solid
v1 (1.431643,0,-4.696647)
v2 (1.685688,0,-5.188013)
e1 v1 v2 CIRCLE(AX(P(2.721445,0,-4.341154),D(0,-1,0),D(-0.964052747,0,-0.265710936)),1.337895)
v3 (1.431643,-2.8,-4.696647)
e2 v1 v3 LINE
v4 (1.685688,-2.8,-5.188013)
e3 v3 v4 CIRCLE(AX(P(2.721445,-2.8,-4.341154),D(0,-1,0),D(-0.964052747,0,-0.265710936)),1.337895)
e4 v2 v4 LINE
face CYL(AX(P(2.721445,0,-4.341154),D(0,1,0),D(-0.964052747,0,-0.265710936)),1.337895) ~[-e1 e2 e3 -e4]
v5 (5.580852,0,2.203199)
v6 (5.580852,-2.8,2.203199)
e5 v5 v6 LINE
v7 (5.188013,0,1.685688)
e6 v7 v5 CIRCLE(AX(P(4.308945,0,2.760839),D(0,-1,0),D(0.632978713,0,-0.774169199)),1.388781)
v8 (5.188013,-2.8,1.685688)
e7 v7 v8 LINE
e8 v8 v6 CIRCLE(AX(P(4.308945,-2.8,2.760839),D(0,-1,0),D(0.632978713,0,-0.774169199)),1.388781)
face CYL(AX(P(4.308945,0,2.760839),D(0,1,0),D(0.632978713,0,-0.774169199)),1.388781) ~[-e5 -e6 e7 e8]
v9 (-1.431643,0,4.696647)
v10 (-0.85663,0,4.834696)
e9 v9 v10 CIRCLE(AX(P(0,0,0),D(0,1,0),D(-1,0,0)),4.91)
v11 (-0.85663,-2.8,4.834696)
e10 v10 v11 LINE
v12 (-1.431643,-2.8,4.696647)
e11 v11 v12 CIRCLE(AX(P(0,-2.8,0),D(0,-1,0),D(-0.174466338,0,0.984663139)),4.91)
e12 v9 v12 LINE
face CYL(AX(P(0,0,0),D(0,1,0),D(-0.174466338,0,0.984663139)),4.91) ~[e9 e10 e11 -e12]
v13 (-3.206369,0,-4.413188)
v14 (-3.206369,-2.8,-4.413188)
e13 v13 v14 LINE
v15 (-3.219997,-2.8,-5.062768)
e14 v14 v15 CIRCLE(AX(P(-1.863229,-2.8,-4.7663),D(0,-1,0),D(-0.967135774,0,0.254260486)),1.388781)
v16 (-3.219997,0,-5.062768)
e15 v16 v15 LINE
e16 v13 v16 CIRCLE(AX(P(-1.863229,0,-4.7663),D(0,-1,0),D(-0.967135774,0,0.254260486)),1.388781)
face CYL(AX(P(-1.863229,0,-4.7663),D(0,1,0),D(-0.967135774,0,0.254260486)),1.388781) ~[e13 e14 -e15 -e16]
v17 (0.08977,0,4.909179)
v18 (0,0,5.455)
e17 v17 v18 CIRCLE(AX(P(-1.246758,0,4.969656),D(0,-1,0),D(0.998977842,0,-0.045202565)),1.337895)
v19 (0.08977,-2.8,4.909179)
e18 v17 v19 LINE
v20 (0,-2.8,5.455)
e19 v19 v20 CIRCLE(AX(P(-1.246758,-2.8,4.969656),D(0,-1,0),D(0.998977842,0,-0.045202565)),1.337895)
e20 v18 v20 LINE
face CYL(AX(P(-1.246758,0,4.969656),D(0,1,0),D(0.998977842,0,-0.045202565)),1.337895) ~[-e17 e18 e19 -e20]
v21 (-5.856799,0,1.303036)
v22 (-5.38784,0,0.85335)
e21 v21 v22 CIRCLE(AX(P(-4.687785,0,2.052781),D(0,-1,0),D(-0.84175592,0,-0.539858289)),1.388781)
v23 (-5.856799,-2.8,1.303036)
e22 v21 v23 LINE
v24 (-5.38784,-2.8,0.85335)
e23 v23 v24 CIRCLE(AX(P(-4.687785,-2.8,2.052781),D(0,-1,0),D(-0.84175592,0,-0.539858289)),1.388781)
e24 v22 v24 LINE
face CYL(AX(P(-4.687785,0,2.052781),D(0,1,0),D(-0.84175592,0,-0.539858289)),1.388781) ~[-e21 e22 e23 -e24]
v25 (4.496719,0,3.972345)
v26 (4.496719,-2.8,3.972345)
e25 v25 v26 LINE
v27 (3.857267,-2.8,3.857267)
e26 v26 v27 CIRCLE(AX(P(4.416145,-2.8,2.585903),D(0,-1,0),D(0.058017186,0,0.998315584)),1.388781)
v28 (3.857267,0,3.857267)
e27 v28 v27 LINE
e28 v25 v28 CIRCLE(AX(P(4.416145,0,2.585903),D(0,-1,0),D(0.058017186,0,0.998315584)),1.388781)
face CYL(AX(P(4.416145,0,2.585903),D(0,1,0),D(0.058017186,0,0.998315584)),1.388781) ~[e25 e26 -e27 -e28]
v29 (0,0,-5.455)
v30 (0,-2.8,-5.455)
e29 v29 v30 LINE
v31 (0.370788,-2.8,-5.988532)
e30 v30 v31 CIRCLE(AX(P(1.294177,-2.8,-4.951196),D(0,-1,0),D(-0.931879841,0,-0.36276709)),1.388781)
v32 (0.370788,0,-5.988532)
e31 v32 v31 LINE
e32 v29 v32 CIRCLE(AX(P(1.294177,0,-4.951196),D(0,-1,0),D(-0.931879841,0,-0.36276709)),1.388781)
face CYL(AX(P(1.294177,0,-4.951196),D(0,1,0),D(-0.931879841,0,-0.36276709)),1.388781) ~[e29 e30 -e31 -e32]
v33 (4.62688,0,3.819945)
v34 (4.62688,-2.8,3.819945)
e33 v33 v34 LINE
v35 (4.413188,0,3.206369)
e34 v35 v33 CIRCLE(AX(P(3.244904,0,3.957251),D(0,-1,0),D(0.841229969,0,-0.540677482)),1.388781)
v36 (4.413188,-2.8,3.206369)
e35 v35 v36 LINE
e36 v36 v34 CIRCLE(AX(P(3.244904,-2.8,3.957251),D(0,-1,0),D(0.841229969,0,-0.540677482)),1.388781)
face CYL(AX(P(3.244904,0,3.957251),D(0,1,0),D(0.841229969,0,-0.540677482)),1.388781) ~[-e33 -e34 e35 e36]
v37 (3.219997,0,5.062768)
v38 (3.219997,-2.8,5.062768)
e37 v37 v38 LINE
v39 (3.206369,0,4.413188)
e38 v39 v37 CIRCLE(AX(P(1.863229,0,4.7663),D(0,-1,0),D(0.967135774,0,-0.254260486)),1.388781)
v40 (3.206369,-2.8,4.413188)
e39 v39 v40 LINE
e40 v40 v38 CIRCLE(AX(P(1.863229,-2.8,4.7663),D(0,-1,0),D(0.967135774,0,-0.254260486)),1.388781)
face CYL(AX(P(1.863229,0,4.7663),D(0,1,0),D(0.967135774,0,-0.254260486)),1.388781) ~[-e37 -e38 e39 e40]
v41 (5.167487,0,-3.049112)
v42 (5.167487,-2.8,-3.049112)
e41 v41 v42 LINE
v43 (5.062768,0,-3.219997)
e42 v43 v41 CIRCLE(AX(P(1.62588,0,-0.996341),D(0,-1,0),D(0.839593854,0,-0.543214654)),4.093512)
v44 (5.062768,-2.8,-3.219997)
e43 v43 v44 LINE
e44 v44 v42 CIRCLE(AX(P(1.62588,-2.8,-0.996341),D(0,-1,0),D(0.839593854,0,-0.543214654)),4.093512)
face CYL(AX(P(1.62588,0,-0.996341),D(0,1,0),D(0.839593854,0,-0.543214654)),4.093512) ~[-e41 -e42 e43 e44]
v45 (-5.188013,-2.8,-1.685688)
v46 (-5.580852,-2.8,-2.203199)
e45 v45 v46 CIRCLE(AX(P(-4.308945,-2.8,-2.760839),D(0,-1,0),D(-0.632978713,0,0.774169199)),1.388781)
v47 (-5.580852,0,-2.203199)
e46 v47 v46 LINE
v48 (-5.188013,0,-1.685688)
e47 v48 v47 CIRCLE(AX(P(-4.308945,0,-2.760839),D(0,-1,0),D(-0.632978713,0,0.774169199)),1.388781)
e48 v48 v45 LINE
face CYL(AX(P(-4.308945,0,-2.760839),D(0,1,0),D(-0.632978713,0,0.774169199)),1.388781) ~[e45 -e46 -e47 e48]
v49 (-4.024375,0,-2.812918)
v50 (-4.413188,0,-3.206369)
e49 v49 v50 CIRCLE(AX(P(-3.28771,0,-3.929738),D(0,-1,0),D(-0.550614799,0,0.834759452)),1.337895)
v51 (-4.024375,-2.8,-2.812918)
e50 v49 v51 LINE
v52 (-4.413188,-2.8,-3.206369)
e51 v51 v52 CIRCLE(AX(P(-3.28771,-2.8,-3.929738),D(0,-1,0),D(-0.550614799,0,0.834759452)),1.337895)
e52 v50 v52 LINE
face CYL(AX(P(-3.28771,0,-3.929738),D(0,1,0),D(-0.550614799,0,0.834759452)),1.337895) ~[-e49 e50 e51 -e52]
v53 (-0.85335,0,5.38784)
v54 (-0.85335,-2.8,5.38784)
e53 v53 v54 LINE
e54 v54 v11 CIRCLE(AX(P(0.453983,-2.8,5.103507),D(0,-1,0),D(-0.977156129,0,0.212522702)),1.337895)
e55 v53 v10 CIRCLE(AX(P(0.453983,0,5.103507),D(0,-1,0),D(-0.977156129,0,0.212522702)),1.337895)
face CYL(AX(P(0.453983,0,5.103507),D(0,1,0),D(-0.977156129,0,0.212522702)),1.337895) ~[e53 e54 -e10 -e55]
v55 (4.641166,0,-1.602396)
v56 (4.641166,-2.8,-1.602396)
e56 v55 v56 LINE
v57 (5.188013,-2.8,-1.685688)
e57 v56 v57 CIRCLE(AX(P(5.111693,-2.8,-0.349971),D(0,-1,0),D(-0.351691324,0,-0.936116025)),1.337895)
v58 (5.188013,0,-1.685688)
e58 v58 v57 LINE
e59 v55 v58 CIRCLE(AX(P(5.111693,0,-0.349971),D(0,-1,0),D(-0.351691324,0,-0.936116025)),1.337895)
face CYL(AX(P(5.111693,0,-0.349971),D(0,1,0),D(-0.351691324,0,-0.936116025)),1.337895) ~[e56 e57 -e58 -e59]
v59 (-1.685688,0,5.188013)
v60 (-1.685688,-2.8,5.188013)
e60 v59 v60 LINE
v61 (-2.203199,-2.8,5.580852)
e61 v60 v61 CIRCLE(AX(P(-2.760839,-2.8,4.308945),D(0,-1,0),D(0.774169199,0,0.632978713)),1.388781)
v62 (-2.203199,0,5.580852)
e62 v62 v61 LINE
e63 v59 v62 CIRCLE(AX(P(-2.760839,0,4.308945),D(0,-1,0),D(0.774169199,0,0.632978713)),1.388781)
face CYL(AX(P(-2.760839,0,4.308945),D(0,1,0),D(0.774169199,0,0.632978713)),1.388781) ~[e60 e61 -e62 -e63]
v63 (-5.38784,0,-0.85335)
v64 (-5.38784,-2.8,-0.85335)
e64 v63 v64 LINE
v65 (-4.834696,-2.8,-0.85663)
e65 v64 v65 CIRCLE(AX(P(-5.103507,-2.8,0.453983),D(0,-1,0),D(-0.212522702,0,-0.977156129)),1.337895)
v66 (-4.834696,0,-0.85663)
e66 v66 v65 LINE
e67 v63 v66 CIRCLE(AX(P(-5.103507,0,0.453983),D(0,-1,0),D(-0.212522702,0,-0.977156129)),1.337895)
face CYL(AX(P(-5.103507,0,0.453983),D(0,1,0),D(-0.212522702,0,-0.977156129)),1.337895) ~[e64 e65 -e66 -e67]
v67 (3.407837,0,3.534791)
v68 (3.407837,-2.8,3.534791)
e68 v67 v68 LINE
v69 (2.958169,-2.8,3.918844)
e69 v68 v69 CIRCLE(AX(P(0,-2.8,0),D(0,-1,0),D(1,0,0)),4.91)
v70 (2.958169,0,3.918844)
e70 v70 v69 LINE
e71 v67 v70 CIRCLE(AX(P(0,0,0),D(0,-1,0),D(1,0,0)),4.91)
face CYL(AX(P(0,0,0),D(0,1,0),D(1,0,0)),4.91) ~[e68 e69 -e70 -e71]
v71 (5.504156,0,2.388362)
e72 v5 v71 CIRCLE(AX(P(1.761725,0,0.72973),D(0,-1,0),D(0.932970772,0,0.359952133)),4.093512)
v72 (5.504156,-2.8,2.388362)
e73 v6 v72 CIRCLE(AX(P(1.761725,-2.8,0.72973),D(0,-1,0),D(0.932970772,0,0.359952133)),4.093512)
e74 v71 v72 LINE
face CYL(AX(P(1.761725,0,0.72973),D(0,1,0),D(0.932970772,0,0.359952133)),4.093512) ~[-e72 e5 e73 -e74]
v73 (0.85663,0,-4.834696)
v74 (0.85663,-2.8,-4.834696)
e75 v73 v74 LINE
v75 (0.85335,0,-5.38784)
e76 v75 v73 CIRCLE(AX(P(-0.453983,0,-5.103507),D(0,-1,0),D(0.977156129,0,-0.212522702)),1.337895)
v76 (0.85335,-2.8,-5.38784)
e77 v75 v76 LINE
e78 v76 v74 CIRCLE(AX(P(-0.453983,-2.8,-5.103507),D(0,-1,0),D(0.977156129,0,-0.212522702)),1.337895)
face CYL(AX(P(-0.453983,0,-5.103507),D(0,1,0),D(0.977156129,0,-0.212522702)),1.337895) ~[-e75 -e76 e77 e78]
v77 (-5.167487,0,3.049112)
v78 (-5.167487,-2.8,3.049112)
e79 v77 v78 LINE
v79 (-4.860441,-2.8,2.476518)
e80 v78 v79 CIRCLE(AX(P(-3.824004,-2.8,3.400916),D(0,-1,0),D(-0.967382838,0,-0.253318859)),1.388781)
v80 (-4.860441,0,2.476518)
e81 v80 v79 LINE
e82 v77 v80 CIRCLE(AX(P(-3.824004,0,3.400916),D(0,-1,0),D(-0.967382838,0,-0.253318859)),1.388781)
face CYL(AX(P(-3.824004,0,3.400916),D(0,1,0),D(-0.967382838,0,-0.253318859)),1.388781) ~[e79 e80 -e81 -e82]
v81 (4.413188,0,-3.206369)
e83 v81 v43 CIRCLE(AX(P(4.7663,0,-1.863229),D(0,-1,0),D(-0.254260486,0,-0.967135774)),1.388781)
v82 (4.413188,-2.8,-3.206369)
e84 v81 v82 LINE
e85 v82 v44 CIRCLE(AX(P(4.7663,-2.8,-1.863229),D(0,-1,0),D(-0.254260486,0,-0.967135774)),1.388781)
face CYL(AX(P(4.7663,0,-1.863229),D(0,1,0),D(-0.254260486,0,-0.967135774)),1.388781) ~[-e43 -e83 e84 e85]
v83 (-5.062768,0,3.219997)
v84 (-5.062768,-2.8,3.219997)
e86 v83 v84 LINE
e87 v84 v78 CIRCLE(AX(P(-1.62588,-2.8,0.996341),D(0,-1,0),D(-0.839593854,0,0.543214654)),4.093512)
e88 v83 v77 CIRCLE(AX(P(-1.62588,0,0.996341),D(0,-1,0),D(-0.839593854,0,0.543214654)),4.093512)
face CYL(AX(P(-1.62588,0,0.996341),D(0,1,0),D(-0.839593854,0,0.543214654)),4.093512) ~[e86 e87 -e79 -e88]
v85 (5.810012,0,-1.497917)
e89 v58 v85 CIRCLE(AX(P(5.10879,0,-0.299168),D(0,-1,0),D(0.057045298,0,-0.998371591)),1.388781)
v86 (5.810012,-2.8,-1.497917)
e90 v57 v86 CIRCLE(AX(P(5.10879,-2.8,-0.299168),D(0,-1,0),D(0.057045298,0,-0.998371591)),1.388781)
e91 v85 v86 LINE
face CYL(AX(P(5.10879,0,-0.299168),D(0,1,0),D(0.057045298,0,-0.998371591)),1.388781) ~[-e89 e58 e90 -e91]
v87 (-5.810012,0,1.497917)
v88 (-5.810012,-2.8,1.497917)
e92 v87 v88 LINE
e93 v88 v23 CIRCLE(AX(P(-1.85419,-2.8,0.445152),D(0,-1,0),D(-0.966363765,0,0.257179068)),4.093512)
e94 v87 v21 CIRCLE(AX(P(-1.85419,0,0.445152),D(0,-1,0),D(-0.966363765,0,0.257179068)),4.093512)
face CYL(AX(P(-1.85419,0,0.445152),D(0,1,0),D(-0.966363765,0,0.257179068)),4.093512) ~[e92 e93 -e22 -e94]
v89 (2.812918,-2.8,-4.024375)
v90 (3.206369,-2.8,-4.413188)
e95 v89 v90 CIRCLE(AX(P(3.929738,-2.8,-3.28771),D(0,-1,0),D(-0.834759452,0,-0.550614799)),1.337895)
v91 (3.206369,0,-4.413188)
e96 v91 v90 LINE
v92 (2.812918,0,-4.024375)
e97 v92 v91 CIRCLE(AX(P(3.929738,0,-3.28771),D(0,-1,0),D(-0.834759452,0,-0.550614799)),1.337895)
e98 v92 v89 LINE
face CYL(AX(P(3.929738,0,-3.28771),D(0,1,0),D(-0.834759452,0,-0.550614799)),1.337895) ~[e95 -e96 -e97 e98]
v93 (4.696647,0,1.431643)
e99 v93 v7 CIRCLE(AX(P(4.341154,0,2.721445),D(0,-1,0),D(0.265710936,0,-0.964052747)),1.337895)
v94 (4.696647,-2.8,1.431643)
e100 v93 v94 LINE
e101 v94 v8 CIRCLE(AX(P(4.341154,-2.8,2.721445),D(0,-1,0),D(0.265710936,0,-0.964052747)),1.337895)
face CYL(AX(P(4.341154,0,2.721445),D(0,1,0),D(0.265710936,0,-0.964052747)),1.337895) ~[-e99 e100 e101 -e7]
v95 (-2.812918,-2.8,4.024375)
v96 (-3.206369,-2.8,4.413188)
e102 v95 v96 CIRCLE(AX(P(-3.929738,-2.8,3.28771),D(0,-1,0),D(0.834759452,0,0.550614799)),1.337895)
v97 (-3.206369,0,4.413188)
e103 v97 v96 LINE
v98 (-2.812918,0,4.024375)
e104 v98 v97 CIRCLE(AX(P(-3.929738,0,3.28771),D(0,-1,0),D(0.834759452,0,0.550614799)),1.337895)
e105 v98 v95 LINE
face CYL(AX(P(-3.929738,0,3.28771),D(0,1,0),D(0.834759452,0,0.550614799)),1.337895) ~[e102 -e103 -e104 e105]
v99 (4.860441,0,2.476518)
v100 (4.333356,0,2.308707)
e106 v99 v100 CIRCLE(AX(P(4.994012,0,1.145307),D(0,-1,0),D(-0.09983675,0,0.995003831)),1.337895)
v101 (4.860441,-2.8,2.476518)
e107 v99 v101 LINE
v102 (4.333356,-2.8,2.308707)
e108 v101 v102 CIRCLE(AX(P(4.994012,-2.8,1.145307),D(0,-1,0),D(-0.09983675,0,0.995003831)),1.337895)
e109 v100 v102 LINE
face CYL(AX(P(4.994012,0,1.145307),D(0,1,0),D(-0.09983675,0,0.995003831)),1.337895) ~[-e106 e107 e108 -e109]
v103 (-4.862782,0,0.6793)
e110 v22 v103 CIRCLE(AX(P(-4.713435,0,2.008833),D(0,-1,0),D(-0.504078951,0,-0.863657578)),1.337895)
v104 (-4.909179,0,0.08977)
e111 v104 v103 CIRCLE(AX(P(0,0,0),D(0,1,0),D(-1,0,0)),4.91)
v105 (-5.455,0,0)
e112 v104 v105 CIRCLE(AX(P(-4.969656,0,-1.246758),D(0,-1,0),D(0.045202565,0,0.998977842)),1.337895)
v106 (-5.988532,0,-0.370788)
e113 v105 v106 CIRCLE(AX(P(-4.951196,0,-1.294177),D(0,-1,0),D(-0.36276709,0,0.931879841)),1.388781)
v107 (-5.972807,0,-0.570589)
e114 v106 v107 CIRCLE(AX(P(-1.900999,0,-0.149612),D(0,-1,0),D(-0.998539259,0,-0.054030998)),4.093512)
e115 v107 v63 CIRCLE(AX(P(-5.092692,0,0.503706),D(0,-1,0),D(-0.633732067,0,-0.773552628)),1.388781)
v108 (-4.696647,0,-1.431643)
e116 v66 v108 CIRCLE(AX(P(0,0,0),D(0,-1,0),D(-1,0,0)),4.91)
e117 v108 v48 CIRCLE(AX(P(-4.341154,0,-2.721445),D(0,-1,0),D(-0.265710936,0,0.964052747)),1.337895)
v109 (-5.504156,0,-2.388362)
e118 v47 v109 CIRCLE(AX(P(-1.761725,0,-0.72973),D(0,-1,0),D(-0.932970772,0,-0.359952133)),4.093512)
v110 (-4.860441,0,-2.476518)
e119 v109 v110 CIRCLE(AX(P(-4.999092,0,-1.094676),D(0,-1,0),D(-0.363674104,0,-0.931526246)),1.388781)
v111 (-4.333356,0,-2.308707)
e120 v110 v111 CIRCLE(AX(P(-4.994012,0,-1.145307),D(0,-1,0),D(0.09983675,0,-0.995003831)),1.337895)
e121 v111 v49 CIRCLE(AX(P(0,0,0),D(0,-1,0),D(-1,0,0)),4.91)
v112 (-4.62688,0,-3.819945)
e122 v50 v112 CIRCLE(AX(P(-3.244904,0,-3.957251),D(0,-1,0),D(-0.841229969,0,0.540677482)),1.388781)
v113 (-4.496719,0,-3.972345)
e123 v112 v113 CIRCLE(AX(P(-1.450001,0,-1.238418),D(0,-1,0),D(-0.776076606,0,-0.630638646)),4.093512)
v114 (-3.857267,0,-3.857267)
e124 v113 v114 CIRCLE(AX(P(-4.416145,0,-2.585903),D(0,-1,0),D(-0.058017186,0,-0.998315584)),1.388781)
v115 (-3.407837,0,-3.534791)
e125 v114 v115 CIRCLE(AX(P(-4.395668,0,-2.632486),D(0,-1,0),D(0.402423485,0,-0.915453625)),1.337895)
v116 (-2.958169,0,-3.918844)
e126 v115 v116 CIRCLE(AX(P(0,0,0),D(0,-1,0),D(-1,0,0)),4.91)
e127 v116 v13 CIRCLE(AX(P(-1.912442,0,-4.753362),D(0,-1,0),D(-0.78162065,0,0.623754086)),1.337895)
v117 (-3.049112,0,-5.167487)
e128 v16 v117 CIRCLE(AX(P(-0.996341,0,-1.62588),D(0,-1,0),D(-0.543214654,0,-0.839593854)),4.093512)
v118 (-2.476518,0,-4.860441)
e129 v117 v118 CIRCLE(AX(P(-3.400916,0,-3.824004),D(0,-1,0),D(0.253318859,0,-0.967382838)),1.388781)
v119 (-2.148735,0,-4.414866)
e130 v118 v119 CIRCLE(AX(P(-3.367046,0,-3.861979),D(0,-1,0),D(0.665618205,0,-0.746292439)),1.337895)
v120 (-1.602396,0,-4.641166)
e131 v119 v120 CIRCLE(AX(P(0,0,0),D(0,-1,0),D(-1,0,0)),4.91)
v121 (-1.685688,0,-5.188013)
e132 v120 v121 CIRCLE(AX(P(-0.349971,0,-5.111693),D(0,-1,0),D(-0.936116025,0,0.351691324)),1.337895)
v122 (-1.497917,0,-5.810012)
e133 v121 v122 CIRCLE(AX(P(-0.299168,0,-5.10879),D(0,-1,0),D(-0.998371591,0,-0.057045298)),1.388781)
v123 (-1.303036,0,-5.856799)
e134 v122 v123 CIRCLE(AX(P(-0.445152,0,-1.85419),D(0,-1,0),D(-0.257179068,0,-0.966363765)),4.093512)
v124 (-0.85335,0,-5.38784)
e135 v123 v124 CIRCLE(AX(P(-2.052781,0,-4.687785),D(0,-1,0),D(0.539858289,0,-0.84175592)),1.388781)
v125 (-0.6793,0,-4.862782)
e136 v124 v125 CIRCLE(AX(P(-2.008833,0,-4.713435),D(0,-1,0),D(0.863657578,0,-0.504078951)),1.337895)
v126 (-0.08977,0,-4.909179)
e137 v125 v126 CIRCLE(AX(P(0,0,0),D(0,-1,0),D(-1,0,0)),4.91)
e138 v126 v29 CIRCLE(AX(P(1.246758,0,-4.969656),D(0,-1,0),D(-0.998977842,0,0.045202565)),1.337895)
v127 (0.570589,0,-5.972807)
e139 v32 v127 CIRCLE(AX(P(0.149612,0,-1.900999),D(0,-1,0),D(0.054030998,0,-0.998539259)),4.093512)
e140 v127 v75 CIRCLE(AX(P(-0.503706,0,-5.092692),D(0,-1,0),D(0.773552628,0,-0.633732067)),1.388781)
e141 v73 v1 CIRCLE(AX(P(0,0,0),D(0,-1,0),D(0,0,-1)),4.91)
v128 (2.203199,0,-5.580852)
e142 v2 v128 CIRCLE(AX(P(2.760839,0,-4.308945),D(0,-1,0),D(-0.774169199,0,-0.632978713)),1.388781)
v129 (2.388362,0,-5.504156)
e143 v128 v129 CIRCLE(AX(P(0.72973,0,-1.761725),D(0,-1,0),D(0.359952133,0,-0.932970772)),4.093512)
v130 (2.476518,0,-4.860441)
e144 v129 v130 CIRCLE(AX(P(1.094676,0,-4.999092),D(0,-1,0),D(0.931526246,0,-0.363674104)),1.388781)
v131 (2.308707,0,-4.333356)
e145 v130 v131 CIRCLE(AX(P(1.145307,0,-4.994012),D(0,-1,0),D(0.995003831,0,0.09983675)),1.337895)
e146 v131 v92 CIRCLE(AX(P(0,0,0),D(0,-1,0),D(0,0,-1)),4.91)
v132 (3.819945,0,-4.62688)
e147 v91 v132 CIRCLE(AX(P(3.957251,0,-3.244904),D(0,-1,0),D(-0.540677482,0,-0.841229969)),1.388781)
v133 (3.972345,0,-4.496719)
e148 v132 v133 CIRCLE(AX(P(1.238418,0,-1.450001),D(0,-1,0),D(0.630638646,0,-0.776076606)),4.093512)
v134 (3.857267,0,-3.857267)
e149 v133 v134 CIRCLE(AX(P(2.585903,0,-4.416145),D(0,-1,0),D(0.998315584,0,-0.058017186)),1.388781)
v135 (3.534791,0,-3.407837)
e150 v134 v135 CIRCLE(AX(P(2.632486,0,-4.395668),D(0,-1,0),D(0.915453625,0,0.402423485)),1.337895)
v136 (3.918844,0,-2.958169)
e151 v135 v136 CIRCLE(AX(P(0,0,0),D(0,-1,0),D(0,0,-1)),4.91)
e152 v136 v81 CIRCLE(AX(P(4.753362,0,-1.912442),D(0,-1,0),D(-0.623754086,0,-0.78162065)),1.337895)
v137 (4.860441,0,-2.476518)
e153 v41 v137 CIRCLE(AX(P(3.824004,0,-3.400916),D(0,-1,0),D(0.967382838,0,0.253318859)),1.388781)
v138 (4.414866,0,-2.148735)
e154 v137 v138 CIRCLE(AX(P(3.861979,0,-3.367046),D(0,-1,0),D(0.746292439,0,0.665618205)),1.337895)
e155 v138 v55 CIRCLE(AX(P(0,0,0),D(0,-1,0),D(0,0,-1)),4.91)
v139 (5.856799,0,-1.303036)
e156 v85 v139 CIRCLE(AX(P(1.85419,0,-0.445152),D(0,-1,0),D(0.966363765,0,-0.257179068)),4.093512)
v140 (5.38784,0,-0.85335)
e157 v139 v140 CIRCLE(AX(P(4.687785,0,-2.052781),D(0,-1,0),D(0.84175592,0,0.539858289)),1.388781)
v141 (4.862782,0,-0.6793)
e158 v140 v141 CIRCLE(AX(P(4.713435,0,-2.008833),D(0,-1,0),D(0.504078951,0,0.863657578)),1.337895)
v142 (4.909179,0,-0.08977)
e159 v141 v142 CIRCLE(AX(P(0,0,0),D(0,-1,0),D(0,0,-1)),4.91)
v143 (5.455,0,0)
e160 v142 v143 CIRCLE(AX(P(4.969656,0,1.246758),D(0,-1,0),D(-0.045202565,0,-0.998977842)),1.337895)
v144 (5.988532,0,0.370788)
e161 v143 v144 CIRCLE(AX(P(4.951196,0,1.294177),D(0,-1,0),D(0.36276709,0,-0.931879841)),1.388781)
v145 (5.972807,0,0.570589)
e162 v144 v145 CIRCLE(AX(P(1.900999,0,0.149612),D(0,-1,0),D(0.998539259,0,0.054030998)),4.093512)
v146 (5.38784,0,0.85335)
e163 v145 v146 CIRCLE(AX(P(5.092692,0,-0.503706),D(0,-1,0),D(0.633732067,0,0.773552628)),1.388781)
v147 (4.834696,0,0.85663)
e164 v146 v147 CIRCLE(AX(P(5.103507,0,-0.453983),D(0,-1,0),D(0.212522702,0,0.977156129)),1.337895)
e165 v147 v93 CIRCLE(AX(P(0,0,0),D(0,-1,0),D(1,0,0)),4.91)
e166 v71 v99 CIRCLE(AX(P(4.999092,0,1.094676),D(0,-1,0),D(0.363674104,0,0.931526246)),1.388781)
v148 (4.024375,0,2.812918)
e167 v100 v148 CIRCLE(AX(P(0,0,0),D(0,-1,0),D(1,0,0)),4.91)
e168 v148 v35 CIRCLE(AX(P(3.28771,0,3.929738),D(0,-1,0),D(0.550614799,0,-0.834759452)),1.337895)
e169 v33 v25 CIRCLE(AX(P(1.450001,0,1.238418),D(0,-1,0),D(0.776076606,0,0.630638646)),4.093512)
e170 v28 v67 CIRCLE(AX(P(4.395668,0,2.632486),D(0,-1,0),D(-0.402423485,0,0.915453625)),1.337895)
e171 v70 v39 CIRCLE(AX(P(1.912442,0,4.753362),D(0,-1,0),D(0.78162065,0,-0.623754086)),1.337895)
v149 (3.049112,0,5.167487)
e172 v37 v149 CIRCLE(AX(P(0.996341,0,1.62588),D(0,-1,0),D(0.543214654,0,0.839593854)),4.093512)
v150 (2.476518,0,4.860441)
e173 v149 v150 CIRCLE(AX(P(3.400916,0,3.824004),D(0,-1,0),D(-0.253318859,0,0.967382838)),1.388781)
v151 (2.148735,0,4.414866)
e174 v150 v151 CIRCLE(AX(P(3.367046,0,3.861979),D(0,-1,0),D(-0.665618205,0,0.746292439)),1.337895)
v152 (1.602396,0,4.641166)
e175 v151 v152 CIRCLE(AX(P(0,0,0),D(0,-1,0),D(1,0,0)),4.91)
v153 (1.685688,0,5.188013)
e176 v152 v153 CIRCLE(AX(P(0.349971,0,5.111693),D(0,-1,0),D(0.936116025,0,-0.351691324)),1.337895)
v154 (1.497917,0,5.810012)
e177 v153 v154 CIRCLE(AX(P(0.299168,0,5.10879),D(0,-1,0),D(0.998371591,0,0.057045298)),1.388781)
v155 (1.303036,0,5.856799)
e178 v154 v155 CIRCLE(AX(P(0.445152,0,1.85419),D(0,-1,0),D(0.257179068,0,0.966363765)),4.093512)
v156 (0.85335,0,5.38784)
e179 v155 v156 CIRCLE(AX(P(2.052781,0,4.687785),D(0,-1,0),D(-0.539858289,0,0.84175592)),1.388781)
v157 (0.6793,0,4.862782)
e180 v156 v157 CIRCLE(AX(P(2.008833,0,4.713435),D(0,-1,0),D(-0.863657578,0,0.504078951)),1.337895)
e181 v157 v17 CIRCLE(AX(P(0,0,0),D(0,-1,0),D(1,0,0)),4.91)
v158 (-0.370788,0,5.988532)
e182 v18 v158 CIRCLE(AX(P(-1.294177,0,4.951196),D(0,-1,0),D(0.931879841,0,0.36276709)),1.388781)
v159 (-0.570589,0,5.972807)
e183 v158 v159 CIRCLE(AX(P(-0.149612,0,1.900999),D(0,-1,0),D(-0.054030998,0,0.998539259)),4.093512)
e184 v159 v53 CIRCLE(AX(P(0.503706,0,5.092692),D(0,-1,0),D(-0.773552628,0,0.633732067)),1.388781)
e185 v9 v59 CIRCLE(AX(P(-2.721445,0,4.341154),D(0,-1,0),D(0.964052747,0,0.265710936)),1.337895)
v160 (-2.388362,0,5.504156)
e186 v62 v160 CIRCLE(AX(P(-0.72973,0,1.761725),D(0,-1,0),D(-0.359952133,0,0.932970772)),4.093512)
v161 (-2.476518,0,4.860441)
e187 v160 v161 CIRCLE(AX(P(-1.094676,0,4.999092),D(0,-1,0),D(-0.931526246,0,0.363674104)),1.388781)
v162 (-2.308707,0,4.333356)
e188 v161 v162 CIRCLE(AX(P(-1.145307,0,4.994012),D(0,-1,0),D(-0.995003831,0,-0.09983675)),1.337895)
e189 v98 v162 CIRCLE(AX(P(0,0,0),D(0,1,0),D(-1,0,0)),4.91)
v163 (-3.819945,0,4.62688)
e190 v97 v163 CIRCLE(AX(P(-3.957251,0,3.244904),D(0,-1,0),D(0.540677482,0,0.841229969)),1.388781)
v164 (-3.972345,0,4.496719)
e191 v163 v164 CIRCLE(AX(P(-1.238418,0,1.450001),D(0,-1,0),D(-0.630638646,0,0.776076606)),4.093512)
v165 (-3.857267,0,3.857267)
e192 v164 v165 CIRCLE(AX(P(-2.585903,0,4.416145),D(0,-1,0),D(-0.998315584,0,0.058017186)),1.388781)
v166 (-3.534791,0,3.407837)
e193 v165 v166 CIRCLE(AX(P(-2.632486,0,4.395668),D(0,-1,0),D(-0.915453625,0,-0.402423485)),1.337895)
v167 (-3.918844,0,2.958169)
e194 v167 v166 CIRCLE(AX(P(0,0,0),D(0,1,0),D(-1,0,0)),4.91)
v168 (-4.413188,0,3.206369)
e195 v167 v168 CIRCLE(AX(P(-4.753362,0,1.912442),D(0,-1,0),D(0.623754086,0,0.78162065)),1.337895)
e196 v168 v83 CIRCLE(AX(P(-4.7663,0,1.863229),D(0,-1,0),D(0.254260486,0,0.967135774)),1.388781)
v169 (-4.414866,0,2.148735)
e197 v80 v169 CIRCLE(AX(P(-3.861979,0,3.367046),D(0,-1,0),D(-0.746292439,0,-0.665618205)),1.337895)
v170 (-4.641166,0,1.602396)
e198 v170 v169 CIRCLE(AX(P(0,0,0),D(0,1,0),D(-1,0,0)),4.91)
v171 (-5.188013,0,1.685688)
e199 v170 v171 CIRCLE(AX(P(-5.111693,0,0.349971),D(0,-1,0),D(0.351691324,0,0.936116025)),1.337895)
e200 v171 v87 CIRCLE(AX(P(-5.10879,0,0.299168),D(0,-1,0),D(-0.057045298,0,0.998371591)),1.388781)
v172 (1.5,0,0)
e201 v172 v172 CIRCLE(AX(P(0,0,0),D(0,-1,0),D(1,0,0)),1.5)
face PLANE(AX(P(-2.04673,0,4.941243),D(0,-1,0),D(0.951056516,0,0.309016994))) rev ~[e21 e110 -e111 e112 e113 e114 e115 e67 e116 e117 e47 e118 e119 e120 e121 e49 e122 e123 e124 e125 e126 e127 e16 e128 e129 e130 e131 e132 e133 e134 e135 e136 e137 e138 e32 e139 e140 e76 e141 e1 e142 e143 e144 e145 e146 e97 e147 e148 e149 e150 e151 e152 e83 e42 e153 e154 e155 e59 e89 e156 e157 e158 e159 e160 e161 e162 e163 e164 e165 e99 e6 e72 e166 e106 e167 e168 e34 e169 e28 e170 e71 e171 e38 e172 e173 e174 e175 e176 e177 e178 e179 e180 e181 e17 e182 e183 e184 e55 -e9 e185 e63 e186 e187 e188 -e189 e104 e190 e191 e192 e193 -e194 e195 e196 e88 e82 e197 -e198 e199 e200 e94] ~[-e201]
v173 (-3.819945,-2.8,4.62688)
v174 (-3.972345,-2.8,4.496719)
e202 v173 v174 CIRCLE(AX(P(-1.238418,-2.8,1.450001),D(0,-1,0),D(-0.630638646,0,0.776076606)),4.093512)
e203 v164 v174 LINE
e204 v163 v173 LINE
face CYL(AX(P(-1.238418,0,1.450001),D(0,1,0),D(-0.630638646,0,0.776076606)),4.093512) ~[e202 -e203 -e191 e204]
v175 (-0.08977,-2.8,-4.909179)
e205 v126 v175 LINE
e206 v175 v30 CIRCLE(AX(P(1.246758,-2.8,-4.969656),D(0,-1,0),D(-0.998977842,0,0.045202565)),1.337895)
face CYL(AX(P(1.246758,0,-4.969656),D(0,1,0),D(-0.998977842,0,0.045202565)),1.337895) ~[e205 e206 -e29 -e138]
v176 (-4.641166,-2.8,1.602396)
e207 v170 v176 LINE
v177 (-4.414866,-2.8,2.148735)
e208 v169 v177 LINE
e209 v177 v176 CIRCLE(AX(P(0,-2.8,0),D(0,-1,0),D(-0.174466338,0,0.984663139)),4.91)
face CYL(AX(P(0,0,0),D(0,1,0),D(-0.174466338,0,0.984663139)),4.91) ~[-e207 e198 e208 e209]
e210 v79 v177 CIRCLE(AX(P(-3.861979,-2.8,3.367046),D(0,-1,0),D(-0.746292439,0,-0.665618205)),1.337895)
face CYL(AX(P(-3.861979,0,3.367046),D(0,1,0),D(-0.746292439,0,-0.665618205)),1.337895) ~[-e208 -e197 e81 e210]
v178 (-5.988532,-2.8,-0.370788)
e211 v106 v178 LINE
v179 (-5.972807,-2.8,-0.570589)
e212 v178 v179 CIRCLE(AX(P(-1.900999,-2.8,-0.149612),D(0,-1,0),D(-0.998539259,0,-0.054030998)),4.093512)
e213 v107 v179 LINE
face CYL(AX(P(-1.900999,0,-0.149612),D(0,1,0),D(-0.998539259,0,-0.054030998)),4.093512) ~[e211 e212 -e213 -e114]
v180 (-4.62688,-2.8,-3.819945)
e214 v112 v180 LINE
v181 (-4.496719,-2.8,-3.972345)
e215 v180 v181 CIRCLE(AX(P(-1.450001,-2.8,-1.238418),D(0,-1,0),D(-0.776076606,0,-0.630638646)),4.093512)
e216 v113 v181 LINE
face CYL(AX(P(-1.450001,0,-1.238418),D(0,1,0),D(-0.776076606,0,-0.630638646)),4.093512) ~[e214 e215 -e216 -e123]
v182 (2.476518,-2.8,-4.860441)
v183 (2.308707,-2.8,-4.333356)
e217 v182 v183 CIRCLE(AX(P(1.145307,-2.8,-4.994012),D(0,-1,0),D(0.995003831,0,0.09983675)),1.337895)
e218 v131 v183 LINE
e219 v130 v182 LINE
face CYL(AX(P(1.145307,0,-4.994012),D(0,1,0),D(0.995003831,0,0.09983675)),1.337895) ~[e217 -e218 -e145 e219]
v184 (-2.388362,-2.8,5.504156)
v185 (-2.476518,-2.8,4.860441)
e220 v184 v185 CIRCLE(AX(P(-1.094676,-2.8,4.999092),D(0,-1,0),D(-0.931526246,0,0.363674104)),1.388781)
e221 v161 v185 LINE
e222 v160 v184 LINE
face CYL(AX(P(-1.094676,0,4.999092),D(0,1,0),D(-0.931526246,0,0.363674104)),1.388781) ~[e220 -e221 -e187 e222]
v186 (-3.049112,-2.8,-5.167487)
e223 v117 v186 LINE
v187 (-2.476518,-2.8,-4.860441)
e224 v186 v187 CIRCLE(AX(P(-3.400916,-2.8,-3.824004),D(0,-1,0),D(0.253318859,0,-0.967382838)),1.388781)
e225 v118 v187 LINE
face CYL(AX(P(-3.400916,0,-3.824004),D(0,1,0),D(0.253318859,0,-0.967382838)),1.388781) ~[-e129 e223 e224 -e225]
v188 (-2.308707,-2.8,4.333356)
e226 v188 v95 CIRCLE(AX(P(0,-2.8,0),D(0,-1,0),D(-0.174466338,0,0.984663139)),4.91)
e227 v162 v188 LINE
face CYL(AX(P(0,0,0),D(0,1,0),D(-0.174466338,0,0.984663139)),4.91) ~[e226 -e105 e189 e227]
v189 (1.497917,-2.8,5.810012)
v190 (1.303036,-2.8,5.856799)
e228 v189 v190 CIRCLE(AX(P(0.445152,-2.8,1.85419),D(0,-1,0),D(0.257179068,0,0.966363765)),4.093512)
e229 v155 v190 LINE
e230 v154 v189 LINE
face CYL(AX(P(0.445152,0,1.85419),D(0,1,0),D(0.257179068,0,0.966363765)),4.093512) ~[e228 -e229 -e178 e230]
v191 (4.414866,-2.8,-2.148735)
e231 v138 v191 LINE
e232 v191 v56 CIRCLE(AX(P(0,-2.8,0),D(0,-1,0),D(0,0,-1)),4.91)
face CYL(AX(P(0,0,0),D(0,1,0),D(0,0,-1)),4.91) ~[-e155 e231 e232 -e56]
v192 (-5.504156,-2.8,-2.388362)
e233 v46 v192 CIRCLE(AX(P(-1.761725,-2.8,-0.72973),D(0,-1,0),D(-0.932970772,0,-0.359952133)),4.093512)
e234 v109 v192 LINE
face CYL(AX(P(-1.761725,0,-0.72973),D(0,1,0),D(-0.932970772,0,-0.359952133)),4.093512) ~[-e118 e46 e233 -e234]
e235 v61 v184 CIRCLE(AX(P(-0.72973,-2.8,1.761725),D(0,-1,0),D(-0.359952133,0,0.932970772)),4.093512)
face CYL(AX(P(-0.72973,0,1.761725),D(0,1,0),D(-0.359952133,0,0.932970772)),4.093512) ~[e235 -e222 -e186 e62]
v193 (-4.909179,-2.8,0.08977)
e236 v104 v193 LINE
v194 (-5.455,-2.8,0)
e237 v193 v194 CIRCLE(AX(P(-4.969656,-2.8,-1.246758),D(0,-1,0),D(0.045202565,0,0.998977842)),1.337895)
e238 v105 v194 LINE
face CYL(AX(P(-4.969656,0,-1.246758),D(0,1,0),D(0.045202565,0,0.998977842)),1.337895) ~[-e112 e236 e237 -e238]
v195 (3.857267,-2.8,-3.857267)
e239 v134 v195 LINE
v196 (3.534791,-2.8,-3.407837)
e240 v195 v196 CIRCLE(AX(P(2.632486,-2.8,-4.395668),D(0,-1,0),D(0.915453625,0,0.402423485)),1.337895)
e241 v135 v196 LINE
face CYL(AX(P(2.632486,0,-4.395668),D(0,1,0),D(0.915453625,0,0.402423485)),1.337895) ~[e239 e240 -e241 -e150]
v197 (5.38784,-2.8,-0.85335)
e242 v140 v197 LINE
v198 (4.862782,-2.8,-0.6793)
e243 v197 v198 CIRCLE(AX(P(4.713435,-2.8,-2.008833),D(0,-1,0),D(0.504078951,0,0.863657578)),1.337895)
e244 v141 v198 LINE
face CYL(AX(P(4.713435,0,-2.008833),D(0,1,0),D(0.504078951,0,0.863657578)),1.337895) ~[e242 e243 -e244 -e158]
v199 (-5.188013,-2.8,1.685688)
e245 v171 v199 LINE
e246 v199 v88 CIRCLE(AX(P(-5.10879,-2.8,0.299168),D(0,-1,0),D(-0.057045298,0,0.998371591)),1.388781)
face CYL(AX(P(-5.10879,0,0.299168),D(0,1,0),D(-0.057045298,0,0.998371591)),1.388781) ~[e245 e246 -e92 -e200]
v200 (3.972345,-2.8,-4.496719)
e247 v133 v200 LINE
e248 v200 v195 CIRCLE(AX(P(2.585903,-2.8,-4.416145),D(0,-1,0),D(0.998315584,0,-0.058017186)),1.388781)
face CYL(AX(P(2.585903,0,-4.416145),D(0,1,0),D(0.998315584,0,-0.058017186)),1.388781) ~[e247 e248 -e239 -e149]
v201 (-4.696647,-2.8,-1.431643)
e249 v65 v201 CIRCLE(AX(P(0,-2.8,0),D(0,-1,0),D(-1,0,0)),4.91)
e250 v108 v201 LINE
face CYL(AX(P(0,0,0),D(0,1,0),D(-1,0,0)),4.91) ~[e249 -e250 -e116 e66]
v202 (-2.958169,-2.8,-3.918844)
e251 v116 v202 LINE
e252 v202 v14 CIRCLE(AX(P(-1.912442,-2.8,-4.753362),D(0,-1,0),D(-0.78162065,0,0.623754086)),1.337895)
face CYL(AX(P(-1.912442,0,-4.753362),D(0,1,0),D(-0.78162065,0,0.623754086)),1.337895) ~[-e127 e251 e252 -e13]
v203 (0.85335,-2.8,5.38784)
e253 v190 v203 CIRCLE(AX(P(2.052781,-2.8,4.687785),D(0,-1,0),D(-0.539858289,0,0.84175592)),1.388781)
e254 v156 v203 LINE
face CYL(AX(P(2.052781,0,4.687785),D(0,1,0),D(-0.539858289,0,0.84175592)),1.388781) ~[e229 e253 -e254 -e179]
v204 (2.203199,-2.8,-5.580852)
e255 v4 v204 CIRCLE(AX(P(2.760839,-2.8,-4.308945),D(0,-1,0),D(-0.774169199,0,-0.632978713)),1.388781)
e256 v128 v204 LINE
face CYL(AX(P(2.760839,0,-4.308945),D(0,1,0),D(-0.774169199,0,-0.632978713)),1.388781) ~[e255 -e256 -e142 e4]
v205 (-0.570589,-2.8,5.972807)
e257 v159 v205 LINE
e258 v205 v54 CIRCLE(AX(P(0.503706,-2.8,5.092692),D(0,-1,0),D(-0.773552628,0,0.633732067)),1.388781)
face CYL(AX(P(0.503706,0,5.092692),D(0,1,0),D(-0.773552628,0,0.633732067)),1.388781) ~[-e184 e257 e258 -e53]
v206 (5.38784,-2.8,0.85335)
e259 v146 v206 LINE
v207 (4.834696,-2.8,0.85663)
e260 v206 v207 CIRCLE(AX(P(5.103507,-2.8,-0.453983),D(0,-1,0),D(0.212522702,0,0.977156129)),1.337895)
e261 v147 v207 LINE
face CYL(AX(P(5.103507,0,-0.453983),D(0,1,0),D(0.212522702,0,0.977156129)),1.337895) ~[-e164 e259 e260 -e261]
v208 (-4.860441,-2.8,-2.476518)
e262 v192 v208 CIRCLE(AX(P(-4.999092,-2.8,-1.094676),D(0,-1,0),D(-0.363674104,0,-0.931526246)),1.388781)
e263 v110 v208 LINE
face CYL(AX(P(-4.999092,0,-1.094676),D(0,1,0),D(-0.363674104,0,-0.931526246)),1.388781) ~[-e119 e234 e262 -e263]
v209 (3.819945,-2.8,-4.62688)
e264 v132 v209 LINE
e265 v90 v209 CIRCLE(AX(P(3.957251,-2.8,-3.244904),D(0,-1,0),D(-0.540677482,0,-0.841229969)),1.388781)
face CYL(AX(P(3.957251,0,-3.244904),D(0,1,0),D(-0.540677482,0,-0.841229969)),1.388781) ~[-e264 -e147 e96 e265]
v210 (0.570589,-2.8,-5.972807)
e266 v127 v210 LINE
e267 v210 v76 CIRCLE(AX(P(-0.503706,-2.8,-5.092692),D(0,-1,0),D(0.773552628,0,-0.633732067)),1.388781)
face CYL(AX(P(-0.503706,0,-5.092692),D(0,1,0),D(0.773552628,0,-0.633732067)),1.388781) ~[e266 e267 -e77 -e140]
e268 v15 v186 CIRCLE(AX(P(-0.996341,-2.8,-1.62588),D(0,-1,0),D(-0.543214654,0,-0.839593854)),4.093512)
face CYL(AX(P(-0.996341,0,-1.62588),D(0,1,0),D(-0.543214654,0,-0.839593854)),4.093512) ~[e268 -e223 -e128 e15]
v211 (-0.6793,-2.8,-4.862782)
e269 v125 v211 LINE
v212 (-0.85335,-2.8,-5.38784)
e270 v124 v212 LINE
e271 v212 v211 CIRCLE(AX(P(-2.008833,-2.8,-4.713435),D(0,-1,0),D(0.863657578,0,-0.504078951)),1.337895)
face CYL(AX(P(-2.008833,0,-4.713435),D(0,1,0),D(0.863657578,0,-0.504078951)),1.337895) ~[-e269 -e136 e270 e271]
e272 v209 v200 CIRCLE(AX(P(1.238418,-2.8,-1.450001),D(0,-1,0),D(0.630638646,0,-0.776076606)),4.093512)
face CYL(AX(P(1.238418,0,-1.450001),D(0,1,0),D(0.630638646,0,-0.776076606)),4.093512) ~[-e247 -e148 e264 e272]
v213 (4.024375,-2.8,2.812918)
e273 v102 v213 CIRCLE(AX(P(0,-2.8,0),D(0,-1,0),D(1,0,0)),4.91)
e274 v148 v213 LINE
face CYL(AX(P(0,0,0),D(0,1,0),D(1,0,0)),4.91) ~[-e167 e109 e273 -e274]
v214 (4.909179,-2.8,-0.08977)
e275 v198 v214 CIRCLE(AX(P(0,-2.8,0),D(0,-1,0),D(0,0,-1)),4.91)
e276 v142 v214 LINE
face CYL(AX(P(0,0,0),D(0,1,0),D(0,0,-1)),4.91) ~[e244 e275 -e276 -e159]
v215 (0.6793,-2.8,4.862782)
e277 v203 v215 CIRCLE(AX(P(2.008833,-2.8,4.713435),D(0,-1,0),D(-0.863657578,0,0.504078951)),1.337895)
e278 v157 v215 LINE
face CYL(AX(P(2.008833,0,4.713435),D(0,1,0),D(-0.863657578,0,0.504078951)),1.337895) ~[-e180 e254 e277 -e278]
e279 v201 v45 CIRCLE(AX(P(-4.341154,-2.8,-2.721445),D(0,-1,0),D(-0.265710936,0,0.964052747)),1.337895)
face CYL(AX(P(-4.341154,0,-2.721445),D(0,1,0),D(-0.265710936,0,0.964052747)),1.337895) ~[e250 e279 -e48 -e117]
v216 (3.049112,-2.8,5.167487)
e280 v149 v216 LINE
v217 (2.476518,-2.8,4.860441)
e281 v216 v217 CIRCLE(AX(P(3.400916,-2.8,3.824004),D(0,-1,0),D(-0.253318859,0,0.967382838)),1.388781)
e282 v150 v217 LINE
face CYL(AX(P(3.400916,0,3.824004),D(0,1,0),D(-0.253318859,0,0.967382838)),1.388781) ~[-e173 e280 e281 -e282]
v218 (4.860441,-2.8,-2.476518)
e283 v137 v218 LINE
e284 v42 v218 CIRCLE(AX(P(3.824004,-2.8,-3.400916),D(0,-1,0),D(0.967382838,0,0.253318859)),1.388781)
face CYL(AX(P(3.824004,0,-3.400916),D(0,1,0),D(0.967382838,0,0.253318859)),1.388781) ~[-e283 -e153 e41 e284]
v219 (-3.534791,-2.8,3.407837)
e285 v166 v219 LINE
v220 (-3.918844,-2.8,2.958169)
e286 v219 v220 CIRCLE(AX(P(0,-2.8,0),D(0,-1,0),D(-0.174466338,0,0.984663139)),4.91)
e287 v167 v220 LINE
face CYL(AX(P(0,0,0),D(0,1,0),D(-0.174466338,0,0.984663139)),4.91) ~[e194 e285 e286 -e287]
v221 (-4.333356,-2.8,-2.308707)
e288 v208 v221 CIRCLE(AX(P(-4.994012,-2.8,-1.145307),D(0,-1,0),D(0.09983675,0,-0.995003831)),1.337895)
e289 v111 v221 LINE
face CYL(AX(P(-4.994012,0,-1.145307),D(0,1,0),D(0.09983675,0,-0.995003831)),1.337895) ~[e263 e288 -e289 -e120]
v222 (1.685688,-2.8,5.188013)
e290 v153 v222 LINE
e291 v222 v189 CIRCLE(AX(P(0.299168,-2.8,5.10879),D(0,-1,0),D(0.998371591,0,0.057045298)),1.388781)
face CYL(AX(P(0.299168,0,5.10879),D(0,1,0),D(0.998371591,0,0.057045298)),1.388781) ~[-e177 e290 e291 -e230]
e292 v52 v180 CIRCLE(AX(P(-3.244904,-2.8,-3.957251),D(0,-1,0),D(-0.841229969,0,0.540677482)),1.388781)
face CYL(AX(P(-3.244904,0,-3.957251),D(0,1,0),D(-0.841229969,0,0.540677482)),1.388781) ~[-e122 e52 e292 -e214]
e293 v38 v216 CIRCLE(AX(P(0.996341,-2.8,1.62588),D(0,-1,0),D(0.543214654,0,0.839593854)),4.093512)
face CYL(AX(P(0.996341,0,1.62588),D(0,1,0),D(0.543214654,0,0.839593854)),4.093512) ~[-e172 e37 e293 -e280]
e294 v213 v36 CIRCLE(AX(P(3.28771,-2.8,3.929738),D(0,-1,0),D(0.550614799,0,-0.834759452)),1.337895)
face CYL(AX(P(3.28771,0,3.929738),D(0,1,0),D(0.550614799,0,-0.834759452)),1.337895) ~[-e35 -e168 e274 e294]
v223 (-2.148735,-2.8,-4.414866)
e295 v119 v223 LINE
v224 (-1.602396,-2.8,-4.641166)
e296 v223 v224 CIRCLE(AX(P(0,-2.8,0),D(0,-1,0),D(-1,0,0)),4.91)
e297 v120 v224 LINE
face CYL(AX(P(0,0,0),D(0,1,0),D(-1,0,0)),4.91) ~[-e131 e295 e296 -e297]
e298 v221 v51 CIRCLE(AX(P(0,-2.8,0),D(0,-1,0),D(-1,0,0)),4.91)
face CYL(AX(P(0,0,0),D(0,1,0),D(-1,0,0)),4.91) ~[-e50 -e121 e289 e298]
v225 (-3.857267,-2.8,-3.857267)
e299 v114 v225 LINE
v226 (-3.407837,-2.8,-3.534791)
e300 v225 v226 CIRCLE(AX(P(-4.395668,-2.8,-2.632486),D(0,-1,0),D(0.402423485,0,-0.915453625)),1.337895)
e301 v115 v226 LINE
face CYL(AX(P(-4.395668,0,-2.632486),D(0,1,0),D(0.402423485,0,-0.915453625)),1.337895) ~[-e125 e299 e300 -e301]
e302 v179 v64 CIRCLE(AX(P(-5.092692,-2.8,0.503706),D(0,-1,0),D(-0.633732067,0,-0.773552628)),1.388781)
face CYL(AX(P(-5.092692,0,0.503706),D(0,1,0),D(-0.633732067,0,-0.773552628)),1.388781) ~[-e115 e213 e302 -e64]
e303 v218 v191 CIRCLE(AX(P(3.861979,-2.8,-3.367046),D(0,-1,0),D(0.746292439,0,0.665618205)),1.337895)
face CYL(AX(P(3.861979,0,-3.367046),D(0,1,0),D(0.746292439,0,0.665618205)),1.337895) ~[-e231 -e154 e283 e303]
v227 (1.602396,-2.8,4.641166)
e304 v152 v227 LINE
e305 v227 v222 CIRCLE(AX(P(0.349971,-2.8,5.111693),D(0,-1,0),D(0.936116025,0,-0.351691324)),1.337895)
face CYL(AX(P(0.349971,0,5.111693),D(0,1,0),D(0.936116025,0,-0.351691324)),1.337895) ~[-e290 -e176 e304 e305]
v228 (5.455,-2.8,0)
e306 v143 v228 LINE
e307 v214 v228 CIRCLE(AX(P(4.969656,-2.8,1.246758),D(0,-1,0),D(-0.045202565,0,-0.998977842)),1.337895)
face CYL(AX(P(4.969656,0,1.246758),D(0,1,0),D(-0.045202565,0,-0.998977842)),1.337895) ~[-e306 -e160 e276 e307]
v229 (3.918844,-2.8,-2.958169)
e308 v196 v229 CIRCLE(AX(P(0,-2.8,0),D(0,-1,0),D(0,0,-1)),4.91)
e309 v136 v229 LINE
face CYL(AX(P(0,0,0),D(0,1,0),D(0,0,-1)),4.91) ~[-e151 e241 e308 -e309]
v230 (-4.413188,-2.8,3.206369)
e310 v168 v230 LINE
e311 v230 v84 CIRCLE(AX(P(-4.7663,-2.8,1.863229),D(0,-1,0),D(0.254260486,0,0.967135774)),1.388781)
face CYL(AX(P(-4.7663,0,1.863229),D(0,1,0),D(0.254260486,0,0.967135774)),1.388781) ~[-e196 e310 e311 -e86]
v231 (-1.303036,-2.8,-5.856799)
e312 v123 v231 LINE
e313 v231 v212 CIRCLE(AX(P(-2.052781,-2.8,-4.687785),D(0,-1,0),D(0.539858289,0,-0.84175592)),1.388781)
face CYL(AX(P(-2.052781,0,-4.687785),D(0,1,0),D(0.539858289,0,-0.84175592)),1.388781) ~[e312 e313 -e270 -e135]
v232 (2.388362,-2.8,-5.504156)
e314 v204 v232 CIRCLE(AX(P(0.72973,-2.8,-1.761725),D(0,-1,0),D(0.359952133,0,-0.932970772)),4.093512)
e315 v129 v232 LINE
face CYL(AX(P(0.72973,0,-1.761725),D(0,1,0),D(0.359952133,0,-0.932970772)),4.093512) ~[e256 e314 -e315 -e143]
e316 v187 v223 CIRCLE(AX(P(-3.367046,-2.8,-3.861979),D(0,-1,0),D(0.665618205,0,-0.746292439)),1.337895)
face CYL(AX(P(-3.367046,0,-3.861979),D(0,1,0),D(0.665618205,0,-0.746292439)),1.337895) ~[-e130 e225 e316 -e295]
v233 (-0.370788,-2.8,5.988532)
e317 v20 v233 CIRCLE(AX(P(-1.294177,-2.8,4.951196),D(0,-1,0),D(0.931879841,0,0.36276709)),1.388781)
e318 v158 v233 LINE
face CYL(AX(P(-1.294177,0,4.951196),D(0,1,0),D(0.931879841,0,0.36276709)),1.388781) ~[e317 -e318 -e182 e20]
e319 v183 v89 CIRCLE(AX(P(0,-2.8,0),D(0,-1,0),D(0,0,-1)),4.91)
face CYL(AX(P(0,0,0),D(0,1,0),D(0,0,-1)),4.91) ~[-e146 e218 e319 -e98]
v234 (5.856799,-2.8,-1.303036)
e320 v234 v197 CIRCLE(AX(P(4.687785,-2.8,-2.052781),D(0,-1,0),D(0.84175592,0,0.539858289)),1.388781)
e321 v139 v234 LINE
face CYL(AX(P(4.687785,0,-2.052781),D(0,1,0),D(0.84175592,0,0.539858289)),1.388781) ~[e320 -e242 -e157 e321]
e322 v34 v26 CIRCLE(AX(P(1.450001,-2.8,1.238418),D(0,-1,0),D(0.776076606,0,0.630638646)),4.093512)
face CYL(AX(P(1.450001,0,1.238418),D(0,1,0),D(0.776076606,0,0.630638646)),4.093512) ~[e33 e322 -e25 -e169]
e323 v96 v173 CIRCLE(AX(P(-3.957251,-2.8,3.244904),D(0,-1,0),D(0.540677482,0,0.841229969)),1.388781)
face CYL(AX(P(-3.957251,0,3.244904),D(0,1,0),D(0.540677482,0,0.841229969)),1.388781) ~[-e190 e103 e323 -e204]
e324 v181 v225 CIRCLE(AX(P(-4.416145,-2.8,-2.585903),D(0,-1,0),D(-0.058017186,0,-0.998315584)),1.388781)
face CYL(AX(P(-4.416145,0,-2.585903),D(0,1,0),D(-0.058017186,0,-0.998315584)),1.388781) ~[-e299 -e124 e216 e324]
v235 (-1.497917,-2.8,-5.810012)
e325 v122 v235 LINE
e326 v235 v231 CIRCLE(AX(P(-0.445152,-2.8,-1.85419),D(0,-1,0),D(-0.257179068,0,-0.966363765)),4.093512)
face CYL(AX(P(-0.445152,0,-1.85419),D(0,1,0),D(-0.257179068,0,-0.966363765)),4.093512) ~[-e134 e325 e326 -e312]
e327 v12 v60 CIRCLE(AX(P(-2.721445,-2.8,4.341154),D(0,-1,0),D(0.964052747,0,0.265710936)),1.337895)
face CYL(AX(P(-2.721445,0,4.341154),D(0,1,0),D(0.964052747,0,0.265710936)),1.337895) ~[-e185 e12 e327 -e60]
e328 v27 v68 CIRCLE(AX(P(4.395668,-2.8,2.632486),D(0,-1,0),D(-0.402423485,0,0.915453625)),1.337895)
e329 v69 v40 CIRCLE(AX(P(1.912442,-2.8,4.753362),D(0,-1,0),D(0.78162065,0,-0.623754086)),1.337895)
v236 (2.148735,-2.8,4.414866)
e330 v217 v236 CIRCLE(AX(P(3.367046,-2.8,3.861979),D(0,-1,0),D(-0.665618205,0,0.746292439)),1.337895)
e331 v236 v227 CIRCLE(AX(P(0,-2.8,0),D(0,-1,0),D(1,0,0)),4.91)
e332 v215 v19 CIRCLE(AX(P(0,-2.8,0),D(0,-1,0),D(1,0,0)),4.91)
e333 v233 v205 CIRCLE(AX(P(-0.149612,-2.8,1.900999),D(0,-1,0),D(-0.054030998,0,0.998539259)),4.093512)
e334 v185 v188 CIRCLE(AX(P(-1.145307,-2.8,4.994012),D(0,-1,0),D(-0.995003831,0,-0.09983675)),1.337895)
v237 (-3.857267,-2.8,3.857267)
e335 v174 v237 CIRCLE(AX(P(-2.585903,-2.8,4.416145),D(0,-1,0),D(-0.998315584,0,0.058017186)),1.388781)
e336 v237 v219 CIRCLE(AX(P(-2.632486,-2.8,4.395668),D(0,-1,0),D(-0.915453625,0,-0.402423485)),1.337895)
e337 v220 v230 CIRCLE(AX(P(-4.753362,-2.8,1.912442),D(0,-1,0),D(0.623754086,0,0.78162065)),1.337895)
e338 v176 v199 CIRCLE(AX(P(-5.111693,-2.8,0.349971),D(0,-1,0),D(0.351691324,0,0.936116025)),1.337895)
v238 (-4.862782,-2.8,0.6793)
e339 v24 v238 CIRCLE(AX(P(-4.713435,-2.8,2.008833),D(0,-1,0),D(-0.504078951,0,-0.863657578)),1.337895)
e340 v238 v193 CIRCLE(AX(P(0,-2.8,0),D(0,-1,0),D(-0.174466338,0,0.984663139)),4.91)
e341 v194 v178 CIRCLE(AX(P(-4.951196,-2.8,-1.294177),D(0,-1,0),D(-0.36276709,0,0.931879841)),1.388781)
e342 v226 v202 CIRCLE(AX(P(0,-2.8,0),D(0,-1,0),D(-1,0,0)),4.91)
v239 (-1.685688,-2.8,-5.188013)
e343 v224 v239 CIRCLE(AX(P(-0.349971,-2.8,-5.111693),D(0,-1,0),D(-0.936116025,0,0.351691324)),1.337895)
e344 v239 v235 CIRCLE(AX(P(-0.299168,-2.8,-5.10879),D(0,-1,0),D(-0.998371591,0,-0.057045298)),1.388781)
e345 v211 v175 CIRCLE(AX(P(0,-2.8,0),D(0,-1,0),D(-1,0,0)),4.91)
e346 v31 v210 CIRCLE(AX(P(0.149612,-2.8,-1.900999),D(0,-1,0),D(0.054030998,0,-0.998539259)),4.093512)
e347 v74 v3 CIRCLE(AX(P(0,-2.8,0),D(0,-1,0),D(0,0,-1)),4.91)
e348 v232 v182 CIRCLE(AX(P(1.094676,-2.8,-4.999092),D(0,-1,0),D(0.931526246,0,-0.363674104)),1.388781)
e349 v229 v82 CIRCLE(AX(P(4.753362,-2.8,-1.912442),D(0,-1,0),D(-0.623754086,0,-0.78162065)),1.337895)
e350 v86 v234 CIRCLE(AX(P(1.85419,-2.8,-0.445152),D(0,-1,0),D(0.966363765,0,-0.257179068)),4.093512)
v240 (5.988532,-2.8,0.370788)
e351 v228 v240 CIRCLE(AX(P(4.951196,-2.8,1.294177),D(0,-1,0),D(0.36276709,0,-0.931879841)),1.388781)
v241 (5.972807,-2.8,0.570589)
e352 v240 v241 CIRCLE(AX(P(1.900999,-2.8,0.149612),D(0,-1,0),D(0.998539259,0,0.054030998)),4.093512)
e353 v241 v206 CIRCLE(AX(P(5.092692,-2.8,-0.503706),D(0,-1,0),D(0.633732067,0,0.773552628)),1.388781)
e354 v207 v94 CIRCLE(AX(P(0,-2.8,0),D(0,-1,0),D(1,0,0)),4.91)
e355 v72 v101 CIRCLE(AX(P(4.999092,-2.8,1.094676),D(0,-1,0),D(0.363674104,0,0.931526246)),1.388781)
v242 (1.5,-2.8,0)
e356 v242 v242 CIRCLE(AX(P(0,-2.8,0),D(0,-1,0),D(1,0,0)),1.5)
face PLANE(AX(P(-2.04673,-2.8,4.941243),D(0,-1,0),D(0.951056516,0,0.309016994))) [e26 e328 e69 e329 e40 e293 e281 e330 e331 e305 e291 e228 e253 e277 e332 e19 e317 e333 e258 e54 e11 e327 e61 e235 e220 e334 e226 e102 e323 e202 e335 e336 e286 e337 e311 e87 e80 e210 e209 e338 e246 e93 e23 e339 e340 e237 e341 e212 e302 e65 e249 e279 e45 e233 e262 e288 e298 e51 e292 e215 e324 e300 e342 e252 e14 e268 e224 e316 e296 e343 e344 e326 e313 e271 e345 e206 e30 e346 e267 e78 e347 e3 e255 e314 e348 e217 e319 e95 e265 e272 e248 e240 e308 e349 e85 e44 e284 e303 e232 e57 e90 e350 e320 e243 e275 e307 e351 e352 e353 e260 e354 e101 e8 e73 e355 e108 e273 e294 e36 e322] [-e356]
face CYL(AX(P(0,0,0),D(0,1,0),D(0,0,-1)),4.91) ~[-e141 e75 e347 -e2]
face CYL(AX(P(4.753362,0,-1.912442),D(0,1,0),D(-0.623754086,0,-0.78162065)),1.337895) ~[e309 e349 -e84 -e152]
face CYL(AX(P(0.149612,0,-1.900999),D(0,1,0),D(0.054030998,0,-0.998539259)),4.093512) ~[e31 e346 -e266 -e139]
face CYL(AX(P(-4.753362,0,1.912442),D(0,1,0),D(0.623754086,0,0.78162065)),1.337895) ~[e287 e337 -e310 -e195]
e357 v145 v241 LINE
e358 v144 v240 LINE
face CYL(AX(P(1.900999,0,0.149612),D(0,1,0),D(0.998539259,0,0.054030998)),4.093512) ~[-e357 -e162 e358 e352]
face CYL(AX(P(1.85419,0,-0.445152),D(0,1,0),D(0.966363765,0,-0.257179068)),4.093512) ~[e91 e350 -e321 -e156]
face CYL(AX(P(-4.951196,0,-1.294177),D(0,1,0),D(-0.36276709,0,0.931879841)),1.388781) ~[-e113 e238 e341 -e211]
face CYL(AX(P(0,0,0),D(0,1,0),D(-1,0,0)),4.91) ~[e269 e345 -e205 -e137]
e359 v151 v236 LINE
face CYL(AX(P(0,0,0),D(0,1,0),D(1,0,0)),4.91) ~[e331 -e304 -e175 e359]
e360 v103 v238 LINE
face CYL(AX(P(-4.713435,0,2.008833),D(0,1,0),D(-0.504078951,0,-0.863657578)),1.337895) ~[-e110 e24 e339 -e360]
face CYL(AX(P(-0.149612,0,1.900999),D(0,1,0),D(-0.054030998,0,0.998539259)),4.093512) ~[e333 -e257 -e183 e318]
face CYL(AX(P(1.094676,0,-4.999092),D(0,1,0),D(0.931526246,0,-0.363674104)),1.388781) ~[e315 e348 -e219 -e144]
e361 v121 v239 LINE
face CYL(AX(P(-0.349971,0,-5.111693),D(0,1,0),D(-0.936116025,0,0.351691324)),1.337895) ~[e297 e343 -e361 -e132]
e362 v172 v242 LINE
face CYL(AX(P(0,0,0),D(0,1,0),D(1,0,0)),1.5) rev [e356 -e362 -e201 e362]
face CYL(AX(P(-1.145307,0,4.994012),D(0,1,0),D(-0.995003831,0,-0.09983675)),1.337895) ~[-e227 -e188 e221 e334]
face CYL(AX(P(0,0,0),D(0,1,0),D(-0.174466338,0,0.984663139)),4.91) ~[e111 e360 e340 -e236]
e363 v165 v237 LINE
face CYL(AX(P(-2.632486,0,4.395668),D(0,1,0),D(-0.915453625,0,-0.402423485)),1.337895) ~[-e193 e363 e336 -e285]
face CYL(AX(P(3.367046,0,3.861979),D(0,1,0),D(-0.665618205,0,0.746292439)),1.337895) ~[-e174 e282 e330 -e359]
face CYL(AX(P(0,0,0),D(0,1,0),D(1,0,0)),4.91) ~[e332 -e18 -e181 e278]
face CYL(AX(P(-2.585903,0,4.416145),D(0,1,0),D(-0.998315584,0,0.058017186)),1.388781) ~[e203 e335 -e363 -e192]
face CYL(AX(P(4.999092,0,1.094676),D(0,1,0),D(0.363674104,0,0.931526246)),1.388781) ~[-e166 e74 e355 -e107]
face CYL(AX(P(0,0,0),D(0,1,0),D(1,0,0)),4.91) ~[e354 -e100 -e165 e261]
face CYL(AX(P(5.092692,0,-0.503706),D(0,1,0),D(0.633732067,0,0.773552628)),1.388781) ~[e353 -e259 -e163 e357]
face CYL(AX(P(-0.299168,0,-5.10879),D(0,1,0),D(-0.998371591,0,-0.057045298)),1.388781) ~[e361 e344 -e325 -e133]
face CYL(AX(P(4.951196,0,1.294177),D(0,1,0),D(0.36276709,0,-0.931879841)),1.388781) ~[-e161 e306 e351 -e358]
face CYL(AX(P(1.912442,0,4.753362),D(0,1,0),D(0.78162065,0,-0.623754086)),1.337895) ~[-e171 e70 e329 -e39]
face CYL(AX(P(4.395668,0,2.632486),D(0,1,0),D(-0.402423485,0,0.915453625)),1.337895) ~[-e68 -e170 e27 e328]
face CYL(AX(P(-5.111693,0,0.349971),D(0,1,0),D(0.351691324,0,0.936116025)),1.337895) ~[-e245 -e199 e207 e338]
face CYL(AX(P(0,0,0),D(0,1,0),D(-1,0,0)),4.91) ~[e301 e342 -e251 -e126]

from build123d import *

# Parameters (mm, degrees)
F1_DEPTH = 2.8
F2_COUNT = 20
F2_ANGLE = 342
F3_R     = 1.5
F4_DEPTH = 2.8


with BuildPart() as f1:
    # F0 (on Front) → F1 (new body)
    with BuildSketch(Plane.XZ):
        with BuildLine():
            ThreePointArc((-0.856629721, 4.8346960112), (-0.38523416, 4.8948641086), (0.0897701035, 4.9091792928))
            ThreePointArc((0.0897701035, 4.9091792928), (0.0734017823, 5.1867797393), (0, 5.455))
            ThreePointArc((0, 5.455), (-0.1537545483, 5.7437546233), (-0.3707884455, 5.9885320345))
            ThreePointArc((-0.3707884455, 5.9885320345), (-0.4707851627, 5.9818926646), (-0.5705893808, 5.9728073599))
            ThreePointArc((-0.5705893808, 5.9728073599), (-0.7466596071, 5.6970919831), (-0.8533500068, 5.3878398979))
            ThreePointArc((-0.8533500068, 5.3878398979), (-0.8838891984, 5.1114393052), (-0.856629721, 4.8346960112))
        make_face()
        with BuildLine():
            ThreePointArc((-0.856629721, 4.8346960112), (-3.1545243754, -3.7625889976), (4.91, 0))
            ThreePointArc((4.91, 0), (3.5034890615, 3.4400093599), (0.0897701035, 4.9091792928))
            ThreePointArc((0.0897701035, 4.9091792928), (-0.38523416, 4.8948641086), (-0.856629721, 4.8346960112))
        make_face()
    extrude(amount=F1_DEPTH)

    # F2: F1 ×20 about axis
    f2_axis = Axis((0, 0, 0), (0, 1, 0))


with BuildPart() as f1_1:
    add(f1.part)
    for i in range(1, F2_COUNT):
        add(f1.part.rotate(f2_axis, i * F2_ANGLE / (F2_COUNT - 1)))

    # F3 (on face) → F4 (cut)
    with BuildSketch(Plane.XZ):
        Circle(F3_R)
    extrude(amount=F4_DEPTH, mode=Mode.SUBTRACT)


solid = f1_1.part
